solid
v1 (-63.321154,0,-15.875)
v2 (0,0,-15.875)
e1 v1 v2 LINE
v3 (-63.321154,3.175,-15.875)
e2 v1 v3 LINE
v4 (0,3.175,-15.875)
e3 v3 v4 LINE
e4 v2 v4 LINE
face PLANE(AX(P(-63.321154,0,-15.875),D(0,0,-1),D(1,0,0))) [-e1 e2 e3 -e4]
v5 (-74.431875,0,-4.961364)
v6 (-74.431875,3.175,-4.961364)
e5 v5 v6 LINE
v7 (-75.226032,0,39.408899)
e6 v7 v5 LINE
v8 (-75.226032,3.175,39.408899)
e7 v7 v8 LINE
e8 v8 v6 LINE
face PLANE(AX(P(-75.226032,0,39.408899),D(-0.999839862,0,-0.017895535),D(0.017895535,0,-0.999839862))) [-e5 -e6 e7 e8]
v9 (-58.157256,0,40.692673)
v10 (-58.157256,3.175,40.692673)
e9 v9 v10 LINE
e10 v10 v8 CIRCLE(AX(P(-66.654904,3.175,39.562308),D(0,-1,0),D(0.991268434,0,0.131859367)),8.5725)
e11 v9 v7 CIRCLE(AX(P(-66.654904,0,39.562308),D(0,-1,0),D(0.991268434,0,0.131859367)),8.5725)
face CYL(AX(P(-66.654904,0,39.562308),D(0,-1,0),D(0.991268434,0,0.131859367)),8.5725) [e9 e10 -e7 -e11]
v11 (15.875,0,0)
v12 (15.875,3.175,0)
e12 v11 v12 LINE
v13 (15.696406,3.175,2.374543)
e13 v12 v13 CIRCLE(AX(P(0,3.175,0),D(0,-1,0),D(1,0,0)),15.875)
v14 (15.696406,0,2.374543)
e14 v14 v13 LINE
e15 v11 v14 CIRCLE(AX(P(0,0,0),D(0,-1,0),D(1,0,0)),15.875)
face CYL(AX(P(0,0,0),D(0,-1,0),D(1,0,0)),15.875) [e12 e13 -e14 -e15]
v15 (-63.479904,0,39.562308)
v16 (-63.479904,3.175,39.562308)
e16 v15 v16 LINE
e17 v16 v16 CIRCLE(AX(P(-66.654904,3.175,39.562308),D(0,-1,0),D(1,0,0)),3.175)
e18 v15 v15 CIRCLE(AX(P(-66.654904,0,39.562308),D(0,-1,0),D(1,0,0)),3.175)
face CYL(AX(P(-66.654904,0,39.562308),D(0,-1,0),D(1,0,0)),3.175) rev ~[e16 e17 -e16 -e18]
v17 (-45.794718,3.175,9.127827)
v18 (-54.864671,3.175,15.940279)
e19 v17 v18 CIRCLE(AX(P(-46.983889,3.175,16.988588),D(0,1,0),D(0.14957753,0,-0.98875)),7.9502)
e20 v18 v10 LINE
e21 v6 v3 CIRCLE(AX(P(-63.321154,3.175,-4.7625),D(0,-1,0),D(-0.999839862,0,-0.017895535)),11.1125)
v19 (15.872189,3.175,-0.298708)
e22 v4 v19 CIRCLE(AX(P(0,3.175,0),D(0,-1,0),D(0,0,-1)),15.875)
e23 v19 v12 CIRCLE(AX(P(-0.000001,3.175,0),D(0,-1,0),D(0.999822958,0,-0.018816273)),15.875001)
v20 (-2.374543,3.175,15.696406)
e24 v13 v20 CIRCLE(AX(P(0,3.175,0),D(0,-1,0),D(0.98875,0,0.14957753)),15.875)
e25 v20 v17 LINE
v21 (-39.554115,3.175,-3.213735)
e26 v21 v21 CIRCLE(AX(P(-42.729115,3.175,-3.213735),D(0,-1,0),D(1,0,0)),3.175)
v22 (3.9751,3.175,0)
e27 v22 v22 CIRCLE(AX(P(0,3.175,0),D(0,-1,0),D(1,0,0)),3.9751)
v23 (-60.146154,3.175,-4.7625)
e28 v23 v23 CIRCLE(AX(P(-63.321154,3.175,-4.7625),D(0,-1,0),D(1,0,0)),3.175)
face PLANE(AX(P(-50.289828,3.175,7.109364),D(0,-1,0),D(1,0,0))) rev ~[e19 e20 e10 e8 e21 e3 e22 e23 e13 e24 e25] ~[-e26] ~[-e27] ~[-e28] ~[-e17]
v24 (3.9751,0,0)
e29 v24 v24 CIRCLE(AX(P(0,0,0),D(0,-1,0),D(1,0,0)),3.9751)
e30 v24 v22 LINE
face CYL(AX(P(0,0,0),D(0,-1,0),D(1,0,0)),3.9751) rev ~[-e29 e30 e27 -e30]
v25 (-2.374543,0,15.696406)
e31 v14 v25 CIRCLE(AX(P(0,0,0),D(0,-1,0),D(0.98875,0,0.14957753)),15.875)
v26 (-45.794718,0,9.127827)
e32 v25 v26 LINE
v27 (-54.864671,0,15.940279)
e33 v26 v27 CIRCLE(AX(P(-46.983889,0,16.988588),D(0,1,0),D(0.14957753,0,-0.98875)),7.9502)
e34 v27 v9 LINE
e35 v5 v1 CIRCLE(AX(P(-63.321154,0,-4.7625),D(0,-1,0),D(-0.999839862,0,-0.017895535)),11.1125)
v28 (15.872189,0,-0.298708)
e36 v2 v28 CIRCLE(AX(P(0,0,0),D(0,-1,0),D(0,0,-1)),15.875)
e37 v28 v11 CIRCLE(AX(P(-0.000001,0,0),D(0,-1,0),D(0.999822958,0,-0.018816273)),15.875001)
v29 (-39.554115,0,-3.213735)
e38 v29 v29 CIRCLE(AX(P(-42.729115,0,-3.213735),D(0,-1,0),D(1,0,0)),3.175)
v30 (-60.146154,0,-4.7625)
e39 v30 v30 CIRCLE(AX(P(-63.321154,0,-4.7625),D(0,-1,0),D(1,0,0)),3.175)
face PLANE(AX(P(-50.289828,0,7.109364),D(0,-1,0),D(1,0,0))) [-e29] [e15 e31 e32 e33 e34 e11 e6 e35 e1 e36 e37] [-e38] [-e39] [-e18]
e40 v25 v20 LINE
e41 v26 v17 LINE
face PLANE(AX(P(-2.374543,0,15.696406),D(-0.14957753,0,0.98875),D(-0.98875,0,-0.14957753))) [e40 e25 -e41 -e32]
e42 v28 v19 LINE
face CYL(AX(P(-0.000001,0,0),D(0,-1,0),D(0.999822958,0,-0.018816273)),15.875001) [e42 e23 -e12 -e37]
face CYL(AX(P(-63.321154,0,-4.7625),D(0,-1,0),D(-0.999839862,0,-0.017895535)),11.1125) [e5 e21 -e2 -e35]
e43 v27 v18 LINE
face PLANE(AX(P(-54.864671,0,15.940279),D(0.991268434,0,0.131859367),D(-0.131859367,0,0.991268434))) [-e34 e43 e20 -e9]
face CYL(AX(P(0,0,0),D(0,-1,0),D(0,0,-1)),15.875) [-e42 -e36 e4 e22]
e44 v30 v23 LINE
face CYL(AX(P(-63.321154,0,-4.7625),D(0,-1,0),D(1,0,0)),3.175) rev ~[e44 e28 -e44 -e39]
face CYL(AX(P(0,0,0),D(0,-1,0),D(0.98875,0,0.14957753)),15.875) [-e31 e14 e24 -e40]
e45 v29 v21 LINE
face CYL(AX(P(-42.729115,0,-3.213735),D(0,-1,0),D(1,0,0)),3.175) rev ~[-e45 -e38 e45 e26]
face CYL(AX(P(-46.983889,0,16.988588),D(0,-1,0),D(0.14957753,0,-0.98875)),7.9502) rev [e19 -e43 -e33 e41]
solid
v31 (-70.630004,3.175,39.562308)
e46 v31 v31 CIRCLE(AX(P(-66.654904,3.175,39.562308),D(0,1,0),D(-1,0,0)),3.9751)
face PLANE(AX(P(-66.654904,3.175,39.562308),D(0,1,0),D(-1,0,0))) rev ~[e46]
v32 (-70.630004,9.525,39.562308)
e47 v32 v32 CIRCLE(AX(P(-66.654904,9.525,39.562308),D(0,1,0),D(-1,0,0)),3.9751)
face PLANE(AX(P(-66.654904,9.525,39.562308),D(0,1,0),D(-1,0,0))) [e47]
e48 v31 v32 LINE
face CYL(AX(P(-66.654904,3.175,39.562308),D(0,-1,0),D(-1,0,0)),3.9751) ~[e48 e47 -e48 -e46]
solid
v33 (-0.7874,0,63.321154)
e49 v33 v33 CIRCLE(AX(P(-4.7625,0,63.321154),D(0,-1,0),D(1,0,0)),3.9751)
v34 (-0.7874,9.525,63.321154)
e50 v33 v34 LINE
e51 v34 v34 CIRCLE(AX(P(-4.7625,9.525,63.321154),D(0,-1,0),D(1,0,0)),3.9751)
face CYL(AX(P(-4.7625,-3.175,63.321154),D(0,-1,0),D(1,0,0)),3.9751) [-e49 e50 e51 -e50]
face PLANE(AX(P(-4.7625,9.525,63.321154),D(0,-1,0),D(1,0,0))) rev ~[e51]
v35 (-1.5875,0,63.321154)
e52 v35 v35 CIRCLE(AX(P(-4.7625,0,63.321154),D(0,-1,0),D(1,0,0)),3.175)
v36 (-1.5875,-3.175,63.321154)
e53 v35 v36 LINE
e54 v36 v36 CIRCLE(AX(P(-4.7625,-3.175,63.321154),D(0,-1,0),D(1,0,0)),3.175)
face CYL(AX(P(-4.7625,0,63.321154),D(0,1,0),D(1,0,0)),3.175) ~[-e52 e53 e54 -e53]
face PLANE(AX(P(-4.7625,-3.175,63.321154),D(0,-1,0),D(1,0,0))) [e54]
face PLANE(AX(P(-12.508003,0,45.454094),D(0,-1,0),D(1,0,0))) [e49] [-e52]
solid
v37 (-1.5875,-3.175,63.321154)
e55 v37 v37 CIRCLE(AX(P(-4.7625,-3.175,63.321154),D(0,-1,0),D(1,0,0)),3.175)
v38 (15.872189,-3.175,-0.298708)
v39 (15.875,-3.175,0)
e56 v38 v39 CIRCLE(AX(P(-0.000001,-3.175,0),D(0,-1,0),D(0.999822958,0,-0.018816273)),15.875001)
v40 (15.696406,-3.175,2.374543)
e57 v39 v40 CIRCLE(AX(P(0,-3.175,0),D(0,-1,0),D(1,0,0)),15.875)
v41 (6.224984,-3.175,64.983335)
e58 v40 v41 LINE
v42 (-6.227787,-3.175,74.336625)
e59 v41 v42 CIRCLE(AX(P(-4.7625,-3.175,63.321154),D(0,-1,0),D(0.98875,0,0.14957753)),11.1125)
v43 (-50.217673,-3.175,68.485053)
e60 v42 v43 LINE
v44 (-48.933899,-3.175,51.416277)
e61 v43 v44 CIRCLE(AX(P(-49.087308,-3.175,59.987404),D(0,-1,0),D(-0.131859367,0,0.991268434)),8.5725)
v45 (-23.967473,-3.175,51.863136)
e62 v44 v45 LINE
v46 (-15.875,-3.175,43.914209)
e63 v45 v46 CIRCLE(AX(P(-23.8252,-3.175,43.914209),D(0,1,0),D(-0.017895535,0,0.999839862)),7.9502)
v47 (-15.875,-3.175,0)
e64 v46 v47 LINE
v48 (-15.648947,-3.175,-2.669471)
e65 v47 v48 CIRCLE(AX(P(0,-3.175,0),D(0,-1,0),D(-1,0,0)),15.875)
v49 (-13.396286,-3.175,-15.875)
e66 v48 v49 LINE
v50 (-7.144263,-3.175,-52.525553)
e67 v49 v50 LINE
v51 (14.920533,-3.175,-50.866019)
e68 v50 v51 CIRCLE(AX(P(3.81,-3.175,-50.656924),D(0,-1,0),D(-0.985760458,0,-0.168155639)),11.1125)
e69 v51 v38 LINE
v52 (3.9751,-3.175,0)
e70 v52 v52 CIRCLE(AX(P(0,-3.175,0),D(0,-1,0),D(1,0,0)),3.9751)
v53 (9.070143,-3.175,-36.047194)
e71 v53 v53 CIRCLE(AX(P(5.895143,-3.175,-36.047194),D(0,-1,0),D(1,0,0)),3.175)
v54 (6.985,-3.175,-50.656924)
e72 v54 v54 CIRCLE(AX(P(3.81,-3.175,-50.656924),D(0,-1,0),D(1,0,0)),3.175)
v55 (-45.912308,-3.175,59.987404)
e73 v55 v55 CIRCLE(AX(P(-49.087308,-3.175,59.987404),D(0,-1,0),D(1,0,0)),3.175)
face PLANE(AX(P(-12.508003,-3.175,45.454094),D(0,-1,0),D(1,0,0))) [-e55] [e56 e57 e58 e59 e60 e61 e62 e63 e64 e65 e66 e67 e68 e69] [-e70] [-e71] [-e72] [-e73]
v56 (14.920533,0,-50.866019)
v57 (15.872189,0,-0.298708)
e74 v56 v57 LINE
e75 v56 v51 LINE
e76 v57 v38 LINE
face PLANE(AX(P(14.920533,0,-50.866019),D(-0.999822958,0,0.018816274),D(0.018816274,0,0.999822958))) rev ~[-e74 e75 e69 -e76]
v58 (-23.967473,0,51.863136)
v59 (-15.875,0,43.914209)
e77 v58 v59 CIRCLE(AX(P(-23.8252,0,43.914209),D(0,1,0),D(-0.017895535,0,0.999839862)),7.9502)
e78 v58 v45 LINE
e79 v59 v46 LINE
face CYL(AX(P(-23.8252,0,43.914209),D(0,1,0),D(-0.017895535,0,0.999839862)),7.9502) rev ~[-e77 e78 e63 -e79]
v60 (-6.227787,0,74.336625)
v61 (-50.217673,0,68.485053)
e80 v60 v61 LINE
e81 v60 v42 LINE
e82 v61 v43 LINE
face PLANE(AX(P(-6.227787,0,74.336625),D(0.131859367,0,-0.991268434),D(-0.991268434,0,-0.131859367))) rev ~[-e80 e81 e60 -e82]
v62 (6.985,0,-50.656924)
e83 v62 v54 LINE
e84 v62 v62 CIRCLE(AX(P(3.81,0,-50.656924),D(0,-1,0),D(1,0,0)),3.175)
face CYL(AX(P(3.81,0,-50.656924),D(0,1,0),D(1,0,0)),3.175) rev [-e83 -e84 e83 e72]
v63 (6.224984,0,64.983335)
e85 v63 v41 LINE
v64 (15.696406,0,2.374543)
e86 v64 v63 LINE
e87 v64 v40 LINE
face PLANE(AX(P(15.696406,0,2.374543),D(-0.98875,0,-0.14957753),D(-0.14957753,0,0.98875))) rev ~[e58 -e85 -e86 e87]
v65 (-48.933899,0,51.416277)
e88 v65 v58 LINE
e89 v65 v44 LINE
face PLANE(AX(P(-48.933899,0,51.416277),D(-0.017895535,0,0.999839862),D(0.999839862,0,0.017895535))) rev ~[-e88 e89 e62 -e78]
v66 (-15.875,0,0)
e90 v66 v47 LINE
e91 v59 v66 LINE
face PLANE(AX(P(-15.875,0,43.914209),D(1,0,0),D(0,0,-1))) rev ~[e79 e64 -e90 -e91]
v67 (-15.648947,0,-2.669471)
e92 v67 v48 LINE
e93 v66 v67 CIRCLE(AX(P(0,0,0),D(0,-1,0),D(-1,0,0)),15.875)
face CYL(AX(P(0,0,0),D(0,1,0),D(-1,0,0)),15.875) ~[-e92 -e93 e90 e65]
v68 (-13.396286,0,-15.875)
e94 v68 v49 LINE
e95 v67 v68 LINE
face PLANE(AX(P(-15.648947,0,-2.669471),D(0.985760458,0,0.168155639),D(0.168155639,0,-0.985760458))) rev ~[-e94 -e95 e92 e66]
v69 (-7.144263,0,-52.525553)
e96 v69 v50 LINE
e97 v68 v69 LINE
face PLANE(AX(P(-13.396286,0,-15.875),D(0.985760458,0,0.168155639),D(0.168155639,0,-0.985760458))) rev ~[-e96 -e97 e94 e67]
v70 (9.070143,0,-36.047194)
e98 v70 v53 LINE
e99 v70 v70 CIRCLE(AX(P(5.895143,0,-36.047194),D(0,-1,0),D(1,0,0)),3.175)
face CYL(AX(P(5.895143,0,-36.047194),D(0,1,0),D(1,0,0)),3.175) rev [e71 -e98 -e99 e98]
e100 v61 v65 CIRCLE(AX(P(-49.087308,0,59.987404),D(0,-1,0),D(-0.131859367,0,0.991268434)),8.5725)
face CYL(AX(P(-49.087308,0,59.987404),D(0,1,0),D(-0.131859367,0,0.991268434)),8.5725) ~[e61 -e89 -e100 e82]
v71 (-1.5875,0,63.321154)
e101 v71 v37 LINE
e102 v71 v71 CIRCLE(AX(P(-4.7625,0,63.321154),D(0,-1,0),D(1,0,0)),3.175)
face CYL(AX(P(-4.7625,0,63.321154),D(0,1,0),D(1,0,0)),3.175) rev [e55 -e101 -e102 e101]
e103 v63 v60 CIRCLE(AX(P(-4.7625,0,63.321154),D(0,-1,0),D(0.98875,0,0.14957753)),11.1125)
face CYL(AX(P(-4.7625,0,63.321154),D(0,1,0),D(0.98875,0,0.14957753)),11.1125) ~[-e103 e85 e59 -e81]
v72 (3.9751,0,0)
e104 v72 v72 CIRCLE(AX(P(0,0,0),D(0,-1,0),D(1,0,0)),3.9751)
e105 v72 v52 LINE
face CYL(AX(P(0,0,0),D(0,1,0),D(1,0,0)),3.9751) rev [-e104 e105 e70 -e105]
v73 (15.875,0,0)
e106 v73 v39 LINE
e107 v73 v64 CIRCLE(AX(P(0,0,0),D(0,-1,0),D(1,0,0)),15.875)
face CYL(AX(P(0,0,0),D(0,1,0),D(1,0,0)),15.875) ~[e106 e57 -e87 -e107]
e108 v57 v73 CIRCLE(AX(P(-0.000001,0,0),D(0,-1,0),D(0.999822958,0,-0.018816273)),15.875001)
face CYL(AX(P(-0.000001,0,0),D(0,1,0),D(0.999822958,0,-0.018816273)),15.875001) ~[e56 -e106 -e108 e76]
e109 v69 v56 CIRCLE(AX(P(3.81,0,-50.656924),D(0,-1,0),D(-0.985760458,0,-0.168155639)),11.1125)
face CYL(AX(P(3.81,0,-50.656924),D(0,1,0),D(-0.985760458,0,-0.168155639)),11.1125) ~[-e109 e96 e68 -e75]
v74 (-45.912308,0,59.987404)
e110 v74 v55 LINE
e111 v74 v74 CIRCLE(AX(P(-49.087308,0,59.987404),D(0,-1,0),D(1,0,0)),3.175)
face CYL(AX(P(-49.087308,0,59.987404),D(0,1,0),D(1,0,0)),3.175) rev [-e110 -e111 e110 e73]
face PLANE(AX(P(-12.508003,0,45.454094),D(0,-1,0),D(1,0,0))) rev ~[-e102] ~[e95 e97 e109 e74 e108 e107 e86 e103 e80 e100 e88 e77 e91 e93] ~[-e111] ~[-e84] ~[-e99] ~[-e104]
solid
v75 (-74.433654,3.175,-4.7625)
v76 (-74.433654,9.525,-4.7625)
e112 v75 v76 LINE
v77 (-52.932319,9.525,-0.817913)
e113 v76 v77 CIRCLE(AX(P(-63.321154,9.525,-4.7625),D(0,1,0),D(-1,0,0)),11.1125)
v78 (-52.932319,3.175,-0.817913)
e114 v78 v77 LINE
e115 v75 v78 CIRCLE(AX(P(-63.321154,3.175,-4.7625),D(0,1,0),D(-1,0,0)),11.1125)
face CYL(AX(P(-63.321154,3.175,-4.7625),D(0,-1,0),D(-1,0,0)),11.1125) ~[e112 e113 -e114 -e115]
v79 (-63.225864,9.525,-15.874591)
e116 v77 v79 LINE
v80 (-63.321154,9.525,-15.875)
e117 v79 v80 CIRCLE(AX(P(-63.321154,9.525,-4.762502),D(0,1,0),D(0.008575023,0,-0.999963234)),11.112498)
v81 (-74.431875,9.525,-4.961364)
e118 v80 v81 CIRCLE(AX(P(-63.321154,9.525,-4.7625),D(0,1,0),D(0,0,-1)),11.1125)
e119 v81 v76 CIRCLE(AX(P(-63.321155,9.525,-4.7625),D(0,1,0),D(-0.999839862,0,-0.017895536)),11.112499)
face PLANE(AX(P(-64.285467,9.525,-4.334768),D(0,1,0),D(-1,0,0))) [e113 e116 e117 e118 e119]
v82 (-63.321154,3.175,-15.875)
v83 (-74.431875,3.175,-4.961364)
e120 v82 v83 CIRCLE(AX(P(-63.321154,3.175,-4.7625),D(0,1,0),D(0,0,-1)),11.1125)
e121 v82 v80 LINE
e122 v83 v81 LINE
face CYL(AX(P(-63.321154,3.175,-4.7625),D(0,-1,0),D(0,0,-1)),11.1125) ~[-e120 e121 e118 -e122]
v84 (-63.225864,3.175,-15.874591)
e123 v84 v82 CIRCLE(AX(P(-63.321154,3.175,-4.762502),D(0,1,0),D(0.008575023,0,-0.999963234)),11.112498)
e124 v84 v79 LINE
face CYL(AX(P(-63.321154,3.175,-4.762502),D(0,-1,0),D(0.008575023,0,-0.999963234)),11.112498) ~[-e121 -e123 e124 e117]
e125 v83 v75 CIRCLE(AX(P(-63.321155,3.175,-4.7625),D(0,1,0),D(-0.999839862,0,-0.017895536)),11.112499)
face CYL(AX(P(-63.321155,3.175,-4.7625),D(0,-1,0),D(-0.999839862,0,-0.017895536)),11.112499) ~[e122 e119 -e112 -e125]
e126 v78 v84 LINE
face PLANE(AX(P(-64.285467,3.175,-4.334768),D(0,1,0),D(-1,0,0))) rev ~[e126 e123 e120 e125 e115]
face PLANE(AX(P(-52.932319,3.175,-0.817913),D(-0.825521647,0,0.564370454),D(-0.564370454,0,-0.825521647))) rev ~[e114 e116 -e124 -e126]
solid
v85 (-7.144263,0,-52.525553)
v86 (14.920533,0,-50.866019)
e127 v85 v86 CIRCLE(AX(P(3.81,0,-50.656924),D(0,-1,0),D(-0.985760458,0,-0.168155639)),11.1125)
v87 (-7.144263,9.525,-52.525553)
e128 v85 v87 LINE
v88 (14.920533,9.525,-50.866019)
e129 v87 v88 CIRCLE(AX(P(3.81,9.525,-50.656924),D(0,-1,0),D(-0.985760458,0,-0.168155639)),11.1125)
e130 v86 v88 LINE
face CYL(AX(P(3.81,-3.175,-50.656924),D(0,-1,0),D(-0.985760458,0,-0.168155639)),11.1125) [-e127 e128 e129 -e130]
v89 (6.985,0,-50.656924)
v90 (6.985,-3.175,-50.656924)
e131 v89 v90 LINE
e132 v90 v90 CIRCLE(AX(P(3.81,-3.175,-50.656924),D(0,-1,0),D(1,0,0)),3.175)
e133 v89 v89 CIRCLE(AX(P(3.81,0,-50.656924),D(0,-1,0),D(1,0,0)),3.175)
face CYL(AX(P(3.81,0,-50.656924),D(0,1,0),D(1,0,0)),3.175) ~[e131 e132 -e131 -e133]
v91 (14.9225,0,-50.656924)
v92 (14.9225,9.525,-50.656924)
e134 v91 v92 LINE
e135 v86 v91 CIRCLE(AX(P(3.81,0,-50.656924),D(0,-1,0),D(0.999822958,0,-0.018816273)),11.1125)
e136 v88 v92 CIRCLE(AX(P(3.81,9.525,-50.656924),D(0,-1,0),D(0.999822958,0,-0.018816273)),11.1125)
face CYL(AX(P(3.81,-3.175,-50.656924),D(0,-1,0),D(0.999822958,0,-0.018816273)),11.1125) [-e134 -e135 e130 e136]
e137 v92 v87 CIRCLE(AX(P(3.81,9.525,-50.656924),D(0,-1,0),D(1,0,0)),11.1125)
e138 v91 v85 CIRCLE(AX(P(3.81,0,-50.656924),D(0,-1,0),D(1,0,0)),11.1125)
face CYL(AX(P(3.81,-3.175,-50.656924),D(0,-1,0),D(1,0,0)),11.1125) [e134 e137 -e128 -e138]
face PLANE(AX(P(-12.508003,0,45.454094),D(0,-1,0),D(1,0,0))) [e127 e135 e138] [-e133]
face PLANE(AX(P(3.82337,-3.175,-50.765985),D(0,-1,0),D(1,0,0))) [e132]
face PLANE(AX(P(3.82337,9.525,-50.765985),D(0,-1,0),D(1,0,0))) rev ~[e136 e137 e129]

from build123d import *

# Parameters (mm, degrees)
F0_R     = 3.9751
F0_R_2   = 3.175
F1_DEPTH = 3.175
F2_DEPTH = 3.175
F3_R     = 3.175
F6_DEPTH = 12.7
F3_R_2   = 3.9751
F7_DEPTH = 12.7
F4_R     = 3.9751
F4_R_2   = 3.175
F8_DEPTH = 6.35
F9_DEPTH = 6.35


with BuildPart() as f1:
    # F0 (on Front) → F1 (new body)
    with BuildSketch(Plane.XZ):
        with BuildLine():
            ThreePointArc((-2.3745433357, 15.696406243), (9.4199796185, 12.7780909758), (15.69640625, 2.3745432898))
            Line((15.69640625, 2.3745432898), (6.224984375, 64.9833346965))
            ThreePointArc((6.224984375, 64.9833346965), (6.3187020189, 64.1545918937), (6.35, 63.3211543937))
            ThreePointArc((6.35, 63.3211543937), (-12.0838609408, 54.9614097669), (-6.227787217, 74.3366248612))
            Line((-6.227787217, 74.3366248612), (-50.2176725002, 68.4850530401))
            ThreePointArc((-50.2176725002, 68.4850530401), (-43.4394010641, 66.4363502486), (-40.5148080756, 59.9874043937))
            ThreePointArc((-40.5148080756, 59.9874043937), (-42.9716372644, 53.9802148029), (-48.9338986045, 51.4162771759))
            Line((-48.9338986045, 51.4162771759), (-23.9674730798, 51.8631362688))
            ThreePointArc((-23.9674730798, 51.8631362688), (-18.2540878758, 49.5859278087), (-15.875, 43.9142093972))
            Line((-15.875, 43.9142093972), (-15.875, 13.6540649408))
            Line((-15.875, 13.6540649408), (-2.3745433357, 15.696406243))
        make_face()
        with BuildLine():
            ThreePointArc((15.8721894623, -0.2987083423), (15.87429735, -0.1493607821), (15.875, 0))
            ThreePointArc((15.875, 0), (15.8302885984, 1.190625), (15.69640625, 2.3745432898))
            ThreePointArc((15.69640625, 2.3745432898), (9.4199796185, 12.7780909758), (-2.3745433357, 15.696406243))
            ThreePointArc((-2.3745433357, 15.696406243), (-12.0356034426, 10.3518053871), (-15.875, 0))
            ThreePointArc((-15.875, 0), (-15.8183858688, -1.3395124137), (-15.6489472748, -2.6694707699))
            ThreePointArc((-15.6489472748, -2.6694707699), (-10.238109604, -12.1324662265), (0, -15.875))
            ThreePointArc((0, -15.875), (11.1192092809, -11.3304373246), (15.8721894623, -0.2987083423))
        make_face()
        Circle(F0_R, mode=Mode.SUBTRACT)
        with BuildLine():
            Line((14.9205326236, -50.8660193546), (15.8721894623, -0.2987083423))
            ThreePointArc((15.8721894623, -0.2987083423), (11.1192092809, -11.3304373246), (0, -15.875))
            Line((0, -15.875), (-13.3962862068, -15.875))
            Line((-13.3962862068, -15.875), (-7.1442630923, -52.5255530539))
            ThreePointArc((-7.1442630923, -52.5255530539), (2.8723413104, -39.5840534068), (14.9225, -50.656923515))
            ThreePointArc((14.9225, -50.656923515), (14.922008145, -50.7614760624), (14.9205326236, -50.8660193546))
        make_face()
        with Locations((5.8951430199, -36.0471939817)):
            Circle(F0_R_2, mode=Mode.SUBTRACT)
        with BuildLine():
            ThreePointArc((-7.1442630923, -52.5255530539), (4.6434375, -61.7381255339), (14.9205326236, -50.8660193546))
            ThreePointArc((14.9205326236, -50.8660193546), (14.922008145, -50.7614760624), (14.9225, -50.656923515))
            ThreePointArc((14.9225, -50.656923515), (2.8723413104, -39.5840534068), (-7.1442630923, -52.5255530539))
        make_face()
        with Locations((3.81, -50.656923515)):
            Circle(F0_R_2, mode=Mode.SUBTRACT)
        with BuildLine():
            ThreePointArc((6.35, 63.3211543937), (6.3187020189, 64.1545918937), (6.224984375, 64.9833346965))
            ThreePointArc((6.224984375, 64.9833346965), (1.9112597279, 72.2064561525), (-6.227787217, 74.3366248612))
            ThreePointArc((-6.227787217, 74.3366248612), (-12.0838609408, 54.9614097669), (6.35, 63.3211543937))
        make_face()
        with Locations((-4.7625, 63.3211543937)):
            Circle(F0_R_2, mode=Mode.SUBTRACT)
        with BuildLine():
            ThreePointArc((-40.5148080756, 59.9874043937), (-43.4394010641, 66.4363502486), (-50.2176725002, 68.4850530401))
            ThreePointArc((-50.2176725002, 68.4850530401), (-57.6356639187, 59.3444668937), (-48.9338986045, 51.4162771759))
            ThreePointArc((-48.9338986045, 51.4162771759), (-42.9716372644, 53.9802148029), (-40.5148080756, 59.9874043937))
        make_face()
        with Locations((-49.0873080756, 59.9874043937)):
            Circle(F0_R_2, mode=Mode.SUBTRACT)
        with BuildLine():
            ThreePointArc((-15.875, 0), (-12.0356034426, 10.3518053871), (-2.3745433357, 15.696406243))
            Line((-2.3745433357, 15.696406243), (-15.875, 13.6540649408))
            Line((-15.875, 13.6540649408), (-15.875, 0))
        make_face()
        with BuildLine():
            Line((-13.3962862068, -15.875), (0, -15.875))
            ThreePointArc((0, -15.875), (-10.238109604, -12.1324662265), (-15.6489472748, -2.6694707699))
            Line((-15.6489472748, -2.6694707699), (-13.3962862068, -15.875))
        make_face()
    extrude(amount=F1_DEPTH)


with BuildPart() as f2:
    # F0 (on Front) → F2 (new body)
    with BuildSketch(Plane.XZ):
        with BuildLine():
            ThreePointArc((-15.6489472748, -2.6694707699), (-15.8183858688, -1.3395124137), (-15.875, 0))
            Line((-15.875, 0), (-15.875, 13.6540649408))
            Line((-15.875, 13.6540649408), (-45.7947178313, 9.1278272737))
            ThreePointArc((-45.7947178313, 9.1278272737), (-51.7584874989, 10.6317887797), (-54.864671411, 15.9402791832))
            Line((-54.864671411, 15.9402791832), (-58.1572557473, 40.6926725002))
            ThreePointArc((-58.1572557473, 40.6926725002), (-58.1011377008, 40.1287280738), (-58.0824043937, 39.5623080756))
            ThreePointArc((-58.0824043937, 39.5623080756), (-66.5781965871, 30.990151278), (-75.2260316115, 39.4088986045))
            Line((-75.2260316115, 39.4088986045), (-74.4318748612, -4.9613641292))
            ThreePointArc((-74.4318748612, -4.9613641292), (-63.4205904392, 6.349555108), (-52.2086543937, -4.7625))
            ThreePointArc((-52.2086543937, -4.7625), (-55.4634302878, -12.6202241059), (-63.3211543937, -15.875))
            Line((-63.3211543937, -15.875), (-13.3962862068, -15.875))
            Line((-13.3962862068, -15.875), (-15.6489472748, -2.6694707699))
        make_face()
        with Locations((-42.7291149849, -3.213735)):
            Circle(F0_R_2, mode=Mode.SUBTRACT)
        with BuildLine():
            ThreePointArc((-58.0824043937, 39.5623080756), (-58.1011377008, 40.1287280738), (-58.1572557473, 40.6926725002))
            ThreePointArc((-58.1572557473, 40.6926725002), (-67.2978418937, 48.1106639187), (-75.2260316115, 39.4088986045))
            ThreePointArc((-75.2260316115, 39.4088986045), (-66.5781965871, 30.990151278), (-58.0824043937, 39.5623080756))
        make_face()
        with Locations((-66.6549043937, 39.5623080756)):
            Circle(F0_R_2, mode=Mode.SUBTRACT)
        with BuildLine():
            ThreePointArc((-74.4318748612, -4.9613641292), (-71.1082520114, -12.6902214219), (-63.3211543937, -15.875))
            ThreePointArc((-63.3211543937, -15.875), (-55.4634302878, -12.6202241059), (-52.2086543937, -4.7625))
            ThreePointArc((-52.2086543937, -4.7625), (-63.4205904392, 6.349555108), (-74.4318748612, -4.9613641292))
        make_face()
        with Locations((-63.3211543937, -4.7625)):
            Circle(F0_R_2, mode=Mode.SUBTRACT)
        with BuildLine():
            ThreePointArc((-15.875, 0), (-12.0356034426, 10.3518053871), (-2.3745433357, 15.696406243))
            Line((-2.3745433357, 15.696406243), (-15.875, 13.6540649408))
            Line((-15.875, 13.6540649408), (-15.875, 0))
        make_face()
        with BuildLine():
            ThreePointArc((15.8721894623, -0.2987083423), (15.87429735, -0.1493607821), (15.875, 0))
            ThreePointArc((15.875, 0), (15.8302885984, 1.190625), (15.69640625, 2.3745432898))
            ThreePointArc((15.69640625, 2.3745432898), (9.4199796185, 12.7780909758), (-2.3745433357, 15.696406243))
            ThreePointArc((-2.3745433357, 15.696406243), (-12.0356034426, 10.3518053871), (-15.875, 0))
            ThreePointArc((-15.875, 0), (-15.8183858688, -1.3395124137), (-15.6489472748, -2.6694707699))
            ThreePointArc((-15.6489472748, -2.6694707699), (-10.238109604, -12.1324662265), (0, -15.875))
            ThreePointArc((0, -15.875), (11.1192092809, -11.3304373246), (15.8721894623, -0.2987083423))
        make_face()
        Circle(F0_R, mode=Mode.SUBTRACT)
        with BuildLine():
            Line((-13.3962862068, -15.875), (0, -15.875))
            ThreePointArc((0, -15.875), (-10.238109604, -12.1324662265), (-15.6489472748, -2.6694707699))
            Line((-15.6489472748, -2.6694707699), (-13.3962862068, -15.875))
        make_face()
    extrude(amount=-F2_DEPTH)


with BuildPart() as f6:
    # F3 (on face) → F6 (new body, through all)
    with BuildSketch(Plane.XZ.offset(3.175)):
        with BuildLine():
            ThreePointArc((14.9205326236, -50.8660193546), (14.922008145, -50.7614760624), (14.9225, -50.656923515))
            ThreePointArc((14.9225, -50.656923515), (2.8723413104, -39.5840534068), (-7.1442630923, -52.5255530539))
            ThreePointArc((-7.1442630923, -52.5255530539), (4.6434375, -61.7381255339), (14.9205326236, -50.8660193546))
        make_face()
        with Locations((3.81, -50.656923515)):
            Circle(F3_R, mode=Mode.SUBTRACT)
        with Locations((3.81, -50.656923515)):
            Circle(F3_R)
    extrude(amount=-F6_DEPTH)

    # F10: cut F1
    add(f1.part, mode=Mode.SUBTRACT)


with BuildPart() as f7:
    # F3 (on face) → F7 (new body, through all)
    with BuildSketch(Plane.XZ.offset(3.175)):
        with Locations((-4.7625, 63.3211543937)):
            Circle(F3_R_2)
        with Locations((-4.7625, 63.3211543937)):
            Circle(F3_R, mode=Mode.SUBTRACT)
        with Locations((-4.7625, 63.3211543937)):
            Circle(F3_R)
    extrude(amount=-F7_DEPTH)

    # F10: cut F1
    add(f1.part, mode=Mode.SUBTRACT)


with BuildPart() as f8:
    # F4 (on face) → F8 (new body, through all)
    with BuildSketch(Plane(origin=(0, 3.175, 0), x_dir=(-1, 0, 0), z_dir=(0, 1, 0))):
        with Locations((66.6549043937, 39.5623080756)):
            Circle(F4_R)
        with Locations((66.6549043937, 39.5623080756)):
            Circle(F4_R_2, mode=Mode.SUBTRACT)
        with Locations((66.6549043937, 39.5623080756)):
            Circle(F4_R_2)
    extrude(amount=F8_DEPTH)

    # F11: cut F2
    add(f2.part, mode=Mode.SUBTRACT)


with BuildPart() as f9:
    # F4 (on face) → F9 (new body, through all)
    with BuildSketch(Plane(origin=(0, 3.175, 0), x_dir=(-1, 0, 0), z_dir=(0, 1, 0))):
        with BuildLine():
            ThreePointArc((74.4318748612, -4.9613641292), (74.4332095017, -4.8619360455), (74.4336543937, -4.7625))
            ThreePointArc((74.4336543937, -4.7625), (65.3263635487, 6.1675865731), (52.9323194115, -0.8179133342))
            Line((52.9323194115, -0.8179133342), (63.2258644543, -15.8745914358))
            ThreePointArc((63.2258644543, -15.8745914358), (63.273508986, -15.8748978585), (63.3211543937, -15.875))
            ThreePointArc((63.3211543937, -15.875), (71.1082520114, -12.6902214219), (74.4318748612, -4.9613641292))
        make_face()
        with Locations((63.3211543937, -4.7625)):
            Circle(F4_R_2, mode=Mode.SUBTRACT)
        with Locations((63.3211543937, -4.7625)):
            Circle(F4_R_2)
    extrude(amount=F9_DEPTH)

    # F11: cut F2
    add(f2.part, mode=Mode.SUBTRACT)


solid = Compound([f1.part, f2.part, f6.part, f7.part, f8.part, f9.part])
